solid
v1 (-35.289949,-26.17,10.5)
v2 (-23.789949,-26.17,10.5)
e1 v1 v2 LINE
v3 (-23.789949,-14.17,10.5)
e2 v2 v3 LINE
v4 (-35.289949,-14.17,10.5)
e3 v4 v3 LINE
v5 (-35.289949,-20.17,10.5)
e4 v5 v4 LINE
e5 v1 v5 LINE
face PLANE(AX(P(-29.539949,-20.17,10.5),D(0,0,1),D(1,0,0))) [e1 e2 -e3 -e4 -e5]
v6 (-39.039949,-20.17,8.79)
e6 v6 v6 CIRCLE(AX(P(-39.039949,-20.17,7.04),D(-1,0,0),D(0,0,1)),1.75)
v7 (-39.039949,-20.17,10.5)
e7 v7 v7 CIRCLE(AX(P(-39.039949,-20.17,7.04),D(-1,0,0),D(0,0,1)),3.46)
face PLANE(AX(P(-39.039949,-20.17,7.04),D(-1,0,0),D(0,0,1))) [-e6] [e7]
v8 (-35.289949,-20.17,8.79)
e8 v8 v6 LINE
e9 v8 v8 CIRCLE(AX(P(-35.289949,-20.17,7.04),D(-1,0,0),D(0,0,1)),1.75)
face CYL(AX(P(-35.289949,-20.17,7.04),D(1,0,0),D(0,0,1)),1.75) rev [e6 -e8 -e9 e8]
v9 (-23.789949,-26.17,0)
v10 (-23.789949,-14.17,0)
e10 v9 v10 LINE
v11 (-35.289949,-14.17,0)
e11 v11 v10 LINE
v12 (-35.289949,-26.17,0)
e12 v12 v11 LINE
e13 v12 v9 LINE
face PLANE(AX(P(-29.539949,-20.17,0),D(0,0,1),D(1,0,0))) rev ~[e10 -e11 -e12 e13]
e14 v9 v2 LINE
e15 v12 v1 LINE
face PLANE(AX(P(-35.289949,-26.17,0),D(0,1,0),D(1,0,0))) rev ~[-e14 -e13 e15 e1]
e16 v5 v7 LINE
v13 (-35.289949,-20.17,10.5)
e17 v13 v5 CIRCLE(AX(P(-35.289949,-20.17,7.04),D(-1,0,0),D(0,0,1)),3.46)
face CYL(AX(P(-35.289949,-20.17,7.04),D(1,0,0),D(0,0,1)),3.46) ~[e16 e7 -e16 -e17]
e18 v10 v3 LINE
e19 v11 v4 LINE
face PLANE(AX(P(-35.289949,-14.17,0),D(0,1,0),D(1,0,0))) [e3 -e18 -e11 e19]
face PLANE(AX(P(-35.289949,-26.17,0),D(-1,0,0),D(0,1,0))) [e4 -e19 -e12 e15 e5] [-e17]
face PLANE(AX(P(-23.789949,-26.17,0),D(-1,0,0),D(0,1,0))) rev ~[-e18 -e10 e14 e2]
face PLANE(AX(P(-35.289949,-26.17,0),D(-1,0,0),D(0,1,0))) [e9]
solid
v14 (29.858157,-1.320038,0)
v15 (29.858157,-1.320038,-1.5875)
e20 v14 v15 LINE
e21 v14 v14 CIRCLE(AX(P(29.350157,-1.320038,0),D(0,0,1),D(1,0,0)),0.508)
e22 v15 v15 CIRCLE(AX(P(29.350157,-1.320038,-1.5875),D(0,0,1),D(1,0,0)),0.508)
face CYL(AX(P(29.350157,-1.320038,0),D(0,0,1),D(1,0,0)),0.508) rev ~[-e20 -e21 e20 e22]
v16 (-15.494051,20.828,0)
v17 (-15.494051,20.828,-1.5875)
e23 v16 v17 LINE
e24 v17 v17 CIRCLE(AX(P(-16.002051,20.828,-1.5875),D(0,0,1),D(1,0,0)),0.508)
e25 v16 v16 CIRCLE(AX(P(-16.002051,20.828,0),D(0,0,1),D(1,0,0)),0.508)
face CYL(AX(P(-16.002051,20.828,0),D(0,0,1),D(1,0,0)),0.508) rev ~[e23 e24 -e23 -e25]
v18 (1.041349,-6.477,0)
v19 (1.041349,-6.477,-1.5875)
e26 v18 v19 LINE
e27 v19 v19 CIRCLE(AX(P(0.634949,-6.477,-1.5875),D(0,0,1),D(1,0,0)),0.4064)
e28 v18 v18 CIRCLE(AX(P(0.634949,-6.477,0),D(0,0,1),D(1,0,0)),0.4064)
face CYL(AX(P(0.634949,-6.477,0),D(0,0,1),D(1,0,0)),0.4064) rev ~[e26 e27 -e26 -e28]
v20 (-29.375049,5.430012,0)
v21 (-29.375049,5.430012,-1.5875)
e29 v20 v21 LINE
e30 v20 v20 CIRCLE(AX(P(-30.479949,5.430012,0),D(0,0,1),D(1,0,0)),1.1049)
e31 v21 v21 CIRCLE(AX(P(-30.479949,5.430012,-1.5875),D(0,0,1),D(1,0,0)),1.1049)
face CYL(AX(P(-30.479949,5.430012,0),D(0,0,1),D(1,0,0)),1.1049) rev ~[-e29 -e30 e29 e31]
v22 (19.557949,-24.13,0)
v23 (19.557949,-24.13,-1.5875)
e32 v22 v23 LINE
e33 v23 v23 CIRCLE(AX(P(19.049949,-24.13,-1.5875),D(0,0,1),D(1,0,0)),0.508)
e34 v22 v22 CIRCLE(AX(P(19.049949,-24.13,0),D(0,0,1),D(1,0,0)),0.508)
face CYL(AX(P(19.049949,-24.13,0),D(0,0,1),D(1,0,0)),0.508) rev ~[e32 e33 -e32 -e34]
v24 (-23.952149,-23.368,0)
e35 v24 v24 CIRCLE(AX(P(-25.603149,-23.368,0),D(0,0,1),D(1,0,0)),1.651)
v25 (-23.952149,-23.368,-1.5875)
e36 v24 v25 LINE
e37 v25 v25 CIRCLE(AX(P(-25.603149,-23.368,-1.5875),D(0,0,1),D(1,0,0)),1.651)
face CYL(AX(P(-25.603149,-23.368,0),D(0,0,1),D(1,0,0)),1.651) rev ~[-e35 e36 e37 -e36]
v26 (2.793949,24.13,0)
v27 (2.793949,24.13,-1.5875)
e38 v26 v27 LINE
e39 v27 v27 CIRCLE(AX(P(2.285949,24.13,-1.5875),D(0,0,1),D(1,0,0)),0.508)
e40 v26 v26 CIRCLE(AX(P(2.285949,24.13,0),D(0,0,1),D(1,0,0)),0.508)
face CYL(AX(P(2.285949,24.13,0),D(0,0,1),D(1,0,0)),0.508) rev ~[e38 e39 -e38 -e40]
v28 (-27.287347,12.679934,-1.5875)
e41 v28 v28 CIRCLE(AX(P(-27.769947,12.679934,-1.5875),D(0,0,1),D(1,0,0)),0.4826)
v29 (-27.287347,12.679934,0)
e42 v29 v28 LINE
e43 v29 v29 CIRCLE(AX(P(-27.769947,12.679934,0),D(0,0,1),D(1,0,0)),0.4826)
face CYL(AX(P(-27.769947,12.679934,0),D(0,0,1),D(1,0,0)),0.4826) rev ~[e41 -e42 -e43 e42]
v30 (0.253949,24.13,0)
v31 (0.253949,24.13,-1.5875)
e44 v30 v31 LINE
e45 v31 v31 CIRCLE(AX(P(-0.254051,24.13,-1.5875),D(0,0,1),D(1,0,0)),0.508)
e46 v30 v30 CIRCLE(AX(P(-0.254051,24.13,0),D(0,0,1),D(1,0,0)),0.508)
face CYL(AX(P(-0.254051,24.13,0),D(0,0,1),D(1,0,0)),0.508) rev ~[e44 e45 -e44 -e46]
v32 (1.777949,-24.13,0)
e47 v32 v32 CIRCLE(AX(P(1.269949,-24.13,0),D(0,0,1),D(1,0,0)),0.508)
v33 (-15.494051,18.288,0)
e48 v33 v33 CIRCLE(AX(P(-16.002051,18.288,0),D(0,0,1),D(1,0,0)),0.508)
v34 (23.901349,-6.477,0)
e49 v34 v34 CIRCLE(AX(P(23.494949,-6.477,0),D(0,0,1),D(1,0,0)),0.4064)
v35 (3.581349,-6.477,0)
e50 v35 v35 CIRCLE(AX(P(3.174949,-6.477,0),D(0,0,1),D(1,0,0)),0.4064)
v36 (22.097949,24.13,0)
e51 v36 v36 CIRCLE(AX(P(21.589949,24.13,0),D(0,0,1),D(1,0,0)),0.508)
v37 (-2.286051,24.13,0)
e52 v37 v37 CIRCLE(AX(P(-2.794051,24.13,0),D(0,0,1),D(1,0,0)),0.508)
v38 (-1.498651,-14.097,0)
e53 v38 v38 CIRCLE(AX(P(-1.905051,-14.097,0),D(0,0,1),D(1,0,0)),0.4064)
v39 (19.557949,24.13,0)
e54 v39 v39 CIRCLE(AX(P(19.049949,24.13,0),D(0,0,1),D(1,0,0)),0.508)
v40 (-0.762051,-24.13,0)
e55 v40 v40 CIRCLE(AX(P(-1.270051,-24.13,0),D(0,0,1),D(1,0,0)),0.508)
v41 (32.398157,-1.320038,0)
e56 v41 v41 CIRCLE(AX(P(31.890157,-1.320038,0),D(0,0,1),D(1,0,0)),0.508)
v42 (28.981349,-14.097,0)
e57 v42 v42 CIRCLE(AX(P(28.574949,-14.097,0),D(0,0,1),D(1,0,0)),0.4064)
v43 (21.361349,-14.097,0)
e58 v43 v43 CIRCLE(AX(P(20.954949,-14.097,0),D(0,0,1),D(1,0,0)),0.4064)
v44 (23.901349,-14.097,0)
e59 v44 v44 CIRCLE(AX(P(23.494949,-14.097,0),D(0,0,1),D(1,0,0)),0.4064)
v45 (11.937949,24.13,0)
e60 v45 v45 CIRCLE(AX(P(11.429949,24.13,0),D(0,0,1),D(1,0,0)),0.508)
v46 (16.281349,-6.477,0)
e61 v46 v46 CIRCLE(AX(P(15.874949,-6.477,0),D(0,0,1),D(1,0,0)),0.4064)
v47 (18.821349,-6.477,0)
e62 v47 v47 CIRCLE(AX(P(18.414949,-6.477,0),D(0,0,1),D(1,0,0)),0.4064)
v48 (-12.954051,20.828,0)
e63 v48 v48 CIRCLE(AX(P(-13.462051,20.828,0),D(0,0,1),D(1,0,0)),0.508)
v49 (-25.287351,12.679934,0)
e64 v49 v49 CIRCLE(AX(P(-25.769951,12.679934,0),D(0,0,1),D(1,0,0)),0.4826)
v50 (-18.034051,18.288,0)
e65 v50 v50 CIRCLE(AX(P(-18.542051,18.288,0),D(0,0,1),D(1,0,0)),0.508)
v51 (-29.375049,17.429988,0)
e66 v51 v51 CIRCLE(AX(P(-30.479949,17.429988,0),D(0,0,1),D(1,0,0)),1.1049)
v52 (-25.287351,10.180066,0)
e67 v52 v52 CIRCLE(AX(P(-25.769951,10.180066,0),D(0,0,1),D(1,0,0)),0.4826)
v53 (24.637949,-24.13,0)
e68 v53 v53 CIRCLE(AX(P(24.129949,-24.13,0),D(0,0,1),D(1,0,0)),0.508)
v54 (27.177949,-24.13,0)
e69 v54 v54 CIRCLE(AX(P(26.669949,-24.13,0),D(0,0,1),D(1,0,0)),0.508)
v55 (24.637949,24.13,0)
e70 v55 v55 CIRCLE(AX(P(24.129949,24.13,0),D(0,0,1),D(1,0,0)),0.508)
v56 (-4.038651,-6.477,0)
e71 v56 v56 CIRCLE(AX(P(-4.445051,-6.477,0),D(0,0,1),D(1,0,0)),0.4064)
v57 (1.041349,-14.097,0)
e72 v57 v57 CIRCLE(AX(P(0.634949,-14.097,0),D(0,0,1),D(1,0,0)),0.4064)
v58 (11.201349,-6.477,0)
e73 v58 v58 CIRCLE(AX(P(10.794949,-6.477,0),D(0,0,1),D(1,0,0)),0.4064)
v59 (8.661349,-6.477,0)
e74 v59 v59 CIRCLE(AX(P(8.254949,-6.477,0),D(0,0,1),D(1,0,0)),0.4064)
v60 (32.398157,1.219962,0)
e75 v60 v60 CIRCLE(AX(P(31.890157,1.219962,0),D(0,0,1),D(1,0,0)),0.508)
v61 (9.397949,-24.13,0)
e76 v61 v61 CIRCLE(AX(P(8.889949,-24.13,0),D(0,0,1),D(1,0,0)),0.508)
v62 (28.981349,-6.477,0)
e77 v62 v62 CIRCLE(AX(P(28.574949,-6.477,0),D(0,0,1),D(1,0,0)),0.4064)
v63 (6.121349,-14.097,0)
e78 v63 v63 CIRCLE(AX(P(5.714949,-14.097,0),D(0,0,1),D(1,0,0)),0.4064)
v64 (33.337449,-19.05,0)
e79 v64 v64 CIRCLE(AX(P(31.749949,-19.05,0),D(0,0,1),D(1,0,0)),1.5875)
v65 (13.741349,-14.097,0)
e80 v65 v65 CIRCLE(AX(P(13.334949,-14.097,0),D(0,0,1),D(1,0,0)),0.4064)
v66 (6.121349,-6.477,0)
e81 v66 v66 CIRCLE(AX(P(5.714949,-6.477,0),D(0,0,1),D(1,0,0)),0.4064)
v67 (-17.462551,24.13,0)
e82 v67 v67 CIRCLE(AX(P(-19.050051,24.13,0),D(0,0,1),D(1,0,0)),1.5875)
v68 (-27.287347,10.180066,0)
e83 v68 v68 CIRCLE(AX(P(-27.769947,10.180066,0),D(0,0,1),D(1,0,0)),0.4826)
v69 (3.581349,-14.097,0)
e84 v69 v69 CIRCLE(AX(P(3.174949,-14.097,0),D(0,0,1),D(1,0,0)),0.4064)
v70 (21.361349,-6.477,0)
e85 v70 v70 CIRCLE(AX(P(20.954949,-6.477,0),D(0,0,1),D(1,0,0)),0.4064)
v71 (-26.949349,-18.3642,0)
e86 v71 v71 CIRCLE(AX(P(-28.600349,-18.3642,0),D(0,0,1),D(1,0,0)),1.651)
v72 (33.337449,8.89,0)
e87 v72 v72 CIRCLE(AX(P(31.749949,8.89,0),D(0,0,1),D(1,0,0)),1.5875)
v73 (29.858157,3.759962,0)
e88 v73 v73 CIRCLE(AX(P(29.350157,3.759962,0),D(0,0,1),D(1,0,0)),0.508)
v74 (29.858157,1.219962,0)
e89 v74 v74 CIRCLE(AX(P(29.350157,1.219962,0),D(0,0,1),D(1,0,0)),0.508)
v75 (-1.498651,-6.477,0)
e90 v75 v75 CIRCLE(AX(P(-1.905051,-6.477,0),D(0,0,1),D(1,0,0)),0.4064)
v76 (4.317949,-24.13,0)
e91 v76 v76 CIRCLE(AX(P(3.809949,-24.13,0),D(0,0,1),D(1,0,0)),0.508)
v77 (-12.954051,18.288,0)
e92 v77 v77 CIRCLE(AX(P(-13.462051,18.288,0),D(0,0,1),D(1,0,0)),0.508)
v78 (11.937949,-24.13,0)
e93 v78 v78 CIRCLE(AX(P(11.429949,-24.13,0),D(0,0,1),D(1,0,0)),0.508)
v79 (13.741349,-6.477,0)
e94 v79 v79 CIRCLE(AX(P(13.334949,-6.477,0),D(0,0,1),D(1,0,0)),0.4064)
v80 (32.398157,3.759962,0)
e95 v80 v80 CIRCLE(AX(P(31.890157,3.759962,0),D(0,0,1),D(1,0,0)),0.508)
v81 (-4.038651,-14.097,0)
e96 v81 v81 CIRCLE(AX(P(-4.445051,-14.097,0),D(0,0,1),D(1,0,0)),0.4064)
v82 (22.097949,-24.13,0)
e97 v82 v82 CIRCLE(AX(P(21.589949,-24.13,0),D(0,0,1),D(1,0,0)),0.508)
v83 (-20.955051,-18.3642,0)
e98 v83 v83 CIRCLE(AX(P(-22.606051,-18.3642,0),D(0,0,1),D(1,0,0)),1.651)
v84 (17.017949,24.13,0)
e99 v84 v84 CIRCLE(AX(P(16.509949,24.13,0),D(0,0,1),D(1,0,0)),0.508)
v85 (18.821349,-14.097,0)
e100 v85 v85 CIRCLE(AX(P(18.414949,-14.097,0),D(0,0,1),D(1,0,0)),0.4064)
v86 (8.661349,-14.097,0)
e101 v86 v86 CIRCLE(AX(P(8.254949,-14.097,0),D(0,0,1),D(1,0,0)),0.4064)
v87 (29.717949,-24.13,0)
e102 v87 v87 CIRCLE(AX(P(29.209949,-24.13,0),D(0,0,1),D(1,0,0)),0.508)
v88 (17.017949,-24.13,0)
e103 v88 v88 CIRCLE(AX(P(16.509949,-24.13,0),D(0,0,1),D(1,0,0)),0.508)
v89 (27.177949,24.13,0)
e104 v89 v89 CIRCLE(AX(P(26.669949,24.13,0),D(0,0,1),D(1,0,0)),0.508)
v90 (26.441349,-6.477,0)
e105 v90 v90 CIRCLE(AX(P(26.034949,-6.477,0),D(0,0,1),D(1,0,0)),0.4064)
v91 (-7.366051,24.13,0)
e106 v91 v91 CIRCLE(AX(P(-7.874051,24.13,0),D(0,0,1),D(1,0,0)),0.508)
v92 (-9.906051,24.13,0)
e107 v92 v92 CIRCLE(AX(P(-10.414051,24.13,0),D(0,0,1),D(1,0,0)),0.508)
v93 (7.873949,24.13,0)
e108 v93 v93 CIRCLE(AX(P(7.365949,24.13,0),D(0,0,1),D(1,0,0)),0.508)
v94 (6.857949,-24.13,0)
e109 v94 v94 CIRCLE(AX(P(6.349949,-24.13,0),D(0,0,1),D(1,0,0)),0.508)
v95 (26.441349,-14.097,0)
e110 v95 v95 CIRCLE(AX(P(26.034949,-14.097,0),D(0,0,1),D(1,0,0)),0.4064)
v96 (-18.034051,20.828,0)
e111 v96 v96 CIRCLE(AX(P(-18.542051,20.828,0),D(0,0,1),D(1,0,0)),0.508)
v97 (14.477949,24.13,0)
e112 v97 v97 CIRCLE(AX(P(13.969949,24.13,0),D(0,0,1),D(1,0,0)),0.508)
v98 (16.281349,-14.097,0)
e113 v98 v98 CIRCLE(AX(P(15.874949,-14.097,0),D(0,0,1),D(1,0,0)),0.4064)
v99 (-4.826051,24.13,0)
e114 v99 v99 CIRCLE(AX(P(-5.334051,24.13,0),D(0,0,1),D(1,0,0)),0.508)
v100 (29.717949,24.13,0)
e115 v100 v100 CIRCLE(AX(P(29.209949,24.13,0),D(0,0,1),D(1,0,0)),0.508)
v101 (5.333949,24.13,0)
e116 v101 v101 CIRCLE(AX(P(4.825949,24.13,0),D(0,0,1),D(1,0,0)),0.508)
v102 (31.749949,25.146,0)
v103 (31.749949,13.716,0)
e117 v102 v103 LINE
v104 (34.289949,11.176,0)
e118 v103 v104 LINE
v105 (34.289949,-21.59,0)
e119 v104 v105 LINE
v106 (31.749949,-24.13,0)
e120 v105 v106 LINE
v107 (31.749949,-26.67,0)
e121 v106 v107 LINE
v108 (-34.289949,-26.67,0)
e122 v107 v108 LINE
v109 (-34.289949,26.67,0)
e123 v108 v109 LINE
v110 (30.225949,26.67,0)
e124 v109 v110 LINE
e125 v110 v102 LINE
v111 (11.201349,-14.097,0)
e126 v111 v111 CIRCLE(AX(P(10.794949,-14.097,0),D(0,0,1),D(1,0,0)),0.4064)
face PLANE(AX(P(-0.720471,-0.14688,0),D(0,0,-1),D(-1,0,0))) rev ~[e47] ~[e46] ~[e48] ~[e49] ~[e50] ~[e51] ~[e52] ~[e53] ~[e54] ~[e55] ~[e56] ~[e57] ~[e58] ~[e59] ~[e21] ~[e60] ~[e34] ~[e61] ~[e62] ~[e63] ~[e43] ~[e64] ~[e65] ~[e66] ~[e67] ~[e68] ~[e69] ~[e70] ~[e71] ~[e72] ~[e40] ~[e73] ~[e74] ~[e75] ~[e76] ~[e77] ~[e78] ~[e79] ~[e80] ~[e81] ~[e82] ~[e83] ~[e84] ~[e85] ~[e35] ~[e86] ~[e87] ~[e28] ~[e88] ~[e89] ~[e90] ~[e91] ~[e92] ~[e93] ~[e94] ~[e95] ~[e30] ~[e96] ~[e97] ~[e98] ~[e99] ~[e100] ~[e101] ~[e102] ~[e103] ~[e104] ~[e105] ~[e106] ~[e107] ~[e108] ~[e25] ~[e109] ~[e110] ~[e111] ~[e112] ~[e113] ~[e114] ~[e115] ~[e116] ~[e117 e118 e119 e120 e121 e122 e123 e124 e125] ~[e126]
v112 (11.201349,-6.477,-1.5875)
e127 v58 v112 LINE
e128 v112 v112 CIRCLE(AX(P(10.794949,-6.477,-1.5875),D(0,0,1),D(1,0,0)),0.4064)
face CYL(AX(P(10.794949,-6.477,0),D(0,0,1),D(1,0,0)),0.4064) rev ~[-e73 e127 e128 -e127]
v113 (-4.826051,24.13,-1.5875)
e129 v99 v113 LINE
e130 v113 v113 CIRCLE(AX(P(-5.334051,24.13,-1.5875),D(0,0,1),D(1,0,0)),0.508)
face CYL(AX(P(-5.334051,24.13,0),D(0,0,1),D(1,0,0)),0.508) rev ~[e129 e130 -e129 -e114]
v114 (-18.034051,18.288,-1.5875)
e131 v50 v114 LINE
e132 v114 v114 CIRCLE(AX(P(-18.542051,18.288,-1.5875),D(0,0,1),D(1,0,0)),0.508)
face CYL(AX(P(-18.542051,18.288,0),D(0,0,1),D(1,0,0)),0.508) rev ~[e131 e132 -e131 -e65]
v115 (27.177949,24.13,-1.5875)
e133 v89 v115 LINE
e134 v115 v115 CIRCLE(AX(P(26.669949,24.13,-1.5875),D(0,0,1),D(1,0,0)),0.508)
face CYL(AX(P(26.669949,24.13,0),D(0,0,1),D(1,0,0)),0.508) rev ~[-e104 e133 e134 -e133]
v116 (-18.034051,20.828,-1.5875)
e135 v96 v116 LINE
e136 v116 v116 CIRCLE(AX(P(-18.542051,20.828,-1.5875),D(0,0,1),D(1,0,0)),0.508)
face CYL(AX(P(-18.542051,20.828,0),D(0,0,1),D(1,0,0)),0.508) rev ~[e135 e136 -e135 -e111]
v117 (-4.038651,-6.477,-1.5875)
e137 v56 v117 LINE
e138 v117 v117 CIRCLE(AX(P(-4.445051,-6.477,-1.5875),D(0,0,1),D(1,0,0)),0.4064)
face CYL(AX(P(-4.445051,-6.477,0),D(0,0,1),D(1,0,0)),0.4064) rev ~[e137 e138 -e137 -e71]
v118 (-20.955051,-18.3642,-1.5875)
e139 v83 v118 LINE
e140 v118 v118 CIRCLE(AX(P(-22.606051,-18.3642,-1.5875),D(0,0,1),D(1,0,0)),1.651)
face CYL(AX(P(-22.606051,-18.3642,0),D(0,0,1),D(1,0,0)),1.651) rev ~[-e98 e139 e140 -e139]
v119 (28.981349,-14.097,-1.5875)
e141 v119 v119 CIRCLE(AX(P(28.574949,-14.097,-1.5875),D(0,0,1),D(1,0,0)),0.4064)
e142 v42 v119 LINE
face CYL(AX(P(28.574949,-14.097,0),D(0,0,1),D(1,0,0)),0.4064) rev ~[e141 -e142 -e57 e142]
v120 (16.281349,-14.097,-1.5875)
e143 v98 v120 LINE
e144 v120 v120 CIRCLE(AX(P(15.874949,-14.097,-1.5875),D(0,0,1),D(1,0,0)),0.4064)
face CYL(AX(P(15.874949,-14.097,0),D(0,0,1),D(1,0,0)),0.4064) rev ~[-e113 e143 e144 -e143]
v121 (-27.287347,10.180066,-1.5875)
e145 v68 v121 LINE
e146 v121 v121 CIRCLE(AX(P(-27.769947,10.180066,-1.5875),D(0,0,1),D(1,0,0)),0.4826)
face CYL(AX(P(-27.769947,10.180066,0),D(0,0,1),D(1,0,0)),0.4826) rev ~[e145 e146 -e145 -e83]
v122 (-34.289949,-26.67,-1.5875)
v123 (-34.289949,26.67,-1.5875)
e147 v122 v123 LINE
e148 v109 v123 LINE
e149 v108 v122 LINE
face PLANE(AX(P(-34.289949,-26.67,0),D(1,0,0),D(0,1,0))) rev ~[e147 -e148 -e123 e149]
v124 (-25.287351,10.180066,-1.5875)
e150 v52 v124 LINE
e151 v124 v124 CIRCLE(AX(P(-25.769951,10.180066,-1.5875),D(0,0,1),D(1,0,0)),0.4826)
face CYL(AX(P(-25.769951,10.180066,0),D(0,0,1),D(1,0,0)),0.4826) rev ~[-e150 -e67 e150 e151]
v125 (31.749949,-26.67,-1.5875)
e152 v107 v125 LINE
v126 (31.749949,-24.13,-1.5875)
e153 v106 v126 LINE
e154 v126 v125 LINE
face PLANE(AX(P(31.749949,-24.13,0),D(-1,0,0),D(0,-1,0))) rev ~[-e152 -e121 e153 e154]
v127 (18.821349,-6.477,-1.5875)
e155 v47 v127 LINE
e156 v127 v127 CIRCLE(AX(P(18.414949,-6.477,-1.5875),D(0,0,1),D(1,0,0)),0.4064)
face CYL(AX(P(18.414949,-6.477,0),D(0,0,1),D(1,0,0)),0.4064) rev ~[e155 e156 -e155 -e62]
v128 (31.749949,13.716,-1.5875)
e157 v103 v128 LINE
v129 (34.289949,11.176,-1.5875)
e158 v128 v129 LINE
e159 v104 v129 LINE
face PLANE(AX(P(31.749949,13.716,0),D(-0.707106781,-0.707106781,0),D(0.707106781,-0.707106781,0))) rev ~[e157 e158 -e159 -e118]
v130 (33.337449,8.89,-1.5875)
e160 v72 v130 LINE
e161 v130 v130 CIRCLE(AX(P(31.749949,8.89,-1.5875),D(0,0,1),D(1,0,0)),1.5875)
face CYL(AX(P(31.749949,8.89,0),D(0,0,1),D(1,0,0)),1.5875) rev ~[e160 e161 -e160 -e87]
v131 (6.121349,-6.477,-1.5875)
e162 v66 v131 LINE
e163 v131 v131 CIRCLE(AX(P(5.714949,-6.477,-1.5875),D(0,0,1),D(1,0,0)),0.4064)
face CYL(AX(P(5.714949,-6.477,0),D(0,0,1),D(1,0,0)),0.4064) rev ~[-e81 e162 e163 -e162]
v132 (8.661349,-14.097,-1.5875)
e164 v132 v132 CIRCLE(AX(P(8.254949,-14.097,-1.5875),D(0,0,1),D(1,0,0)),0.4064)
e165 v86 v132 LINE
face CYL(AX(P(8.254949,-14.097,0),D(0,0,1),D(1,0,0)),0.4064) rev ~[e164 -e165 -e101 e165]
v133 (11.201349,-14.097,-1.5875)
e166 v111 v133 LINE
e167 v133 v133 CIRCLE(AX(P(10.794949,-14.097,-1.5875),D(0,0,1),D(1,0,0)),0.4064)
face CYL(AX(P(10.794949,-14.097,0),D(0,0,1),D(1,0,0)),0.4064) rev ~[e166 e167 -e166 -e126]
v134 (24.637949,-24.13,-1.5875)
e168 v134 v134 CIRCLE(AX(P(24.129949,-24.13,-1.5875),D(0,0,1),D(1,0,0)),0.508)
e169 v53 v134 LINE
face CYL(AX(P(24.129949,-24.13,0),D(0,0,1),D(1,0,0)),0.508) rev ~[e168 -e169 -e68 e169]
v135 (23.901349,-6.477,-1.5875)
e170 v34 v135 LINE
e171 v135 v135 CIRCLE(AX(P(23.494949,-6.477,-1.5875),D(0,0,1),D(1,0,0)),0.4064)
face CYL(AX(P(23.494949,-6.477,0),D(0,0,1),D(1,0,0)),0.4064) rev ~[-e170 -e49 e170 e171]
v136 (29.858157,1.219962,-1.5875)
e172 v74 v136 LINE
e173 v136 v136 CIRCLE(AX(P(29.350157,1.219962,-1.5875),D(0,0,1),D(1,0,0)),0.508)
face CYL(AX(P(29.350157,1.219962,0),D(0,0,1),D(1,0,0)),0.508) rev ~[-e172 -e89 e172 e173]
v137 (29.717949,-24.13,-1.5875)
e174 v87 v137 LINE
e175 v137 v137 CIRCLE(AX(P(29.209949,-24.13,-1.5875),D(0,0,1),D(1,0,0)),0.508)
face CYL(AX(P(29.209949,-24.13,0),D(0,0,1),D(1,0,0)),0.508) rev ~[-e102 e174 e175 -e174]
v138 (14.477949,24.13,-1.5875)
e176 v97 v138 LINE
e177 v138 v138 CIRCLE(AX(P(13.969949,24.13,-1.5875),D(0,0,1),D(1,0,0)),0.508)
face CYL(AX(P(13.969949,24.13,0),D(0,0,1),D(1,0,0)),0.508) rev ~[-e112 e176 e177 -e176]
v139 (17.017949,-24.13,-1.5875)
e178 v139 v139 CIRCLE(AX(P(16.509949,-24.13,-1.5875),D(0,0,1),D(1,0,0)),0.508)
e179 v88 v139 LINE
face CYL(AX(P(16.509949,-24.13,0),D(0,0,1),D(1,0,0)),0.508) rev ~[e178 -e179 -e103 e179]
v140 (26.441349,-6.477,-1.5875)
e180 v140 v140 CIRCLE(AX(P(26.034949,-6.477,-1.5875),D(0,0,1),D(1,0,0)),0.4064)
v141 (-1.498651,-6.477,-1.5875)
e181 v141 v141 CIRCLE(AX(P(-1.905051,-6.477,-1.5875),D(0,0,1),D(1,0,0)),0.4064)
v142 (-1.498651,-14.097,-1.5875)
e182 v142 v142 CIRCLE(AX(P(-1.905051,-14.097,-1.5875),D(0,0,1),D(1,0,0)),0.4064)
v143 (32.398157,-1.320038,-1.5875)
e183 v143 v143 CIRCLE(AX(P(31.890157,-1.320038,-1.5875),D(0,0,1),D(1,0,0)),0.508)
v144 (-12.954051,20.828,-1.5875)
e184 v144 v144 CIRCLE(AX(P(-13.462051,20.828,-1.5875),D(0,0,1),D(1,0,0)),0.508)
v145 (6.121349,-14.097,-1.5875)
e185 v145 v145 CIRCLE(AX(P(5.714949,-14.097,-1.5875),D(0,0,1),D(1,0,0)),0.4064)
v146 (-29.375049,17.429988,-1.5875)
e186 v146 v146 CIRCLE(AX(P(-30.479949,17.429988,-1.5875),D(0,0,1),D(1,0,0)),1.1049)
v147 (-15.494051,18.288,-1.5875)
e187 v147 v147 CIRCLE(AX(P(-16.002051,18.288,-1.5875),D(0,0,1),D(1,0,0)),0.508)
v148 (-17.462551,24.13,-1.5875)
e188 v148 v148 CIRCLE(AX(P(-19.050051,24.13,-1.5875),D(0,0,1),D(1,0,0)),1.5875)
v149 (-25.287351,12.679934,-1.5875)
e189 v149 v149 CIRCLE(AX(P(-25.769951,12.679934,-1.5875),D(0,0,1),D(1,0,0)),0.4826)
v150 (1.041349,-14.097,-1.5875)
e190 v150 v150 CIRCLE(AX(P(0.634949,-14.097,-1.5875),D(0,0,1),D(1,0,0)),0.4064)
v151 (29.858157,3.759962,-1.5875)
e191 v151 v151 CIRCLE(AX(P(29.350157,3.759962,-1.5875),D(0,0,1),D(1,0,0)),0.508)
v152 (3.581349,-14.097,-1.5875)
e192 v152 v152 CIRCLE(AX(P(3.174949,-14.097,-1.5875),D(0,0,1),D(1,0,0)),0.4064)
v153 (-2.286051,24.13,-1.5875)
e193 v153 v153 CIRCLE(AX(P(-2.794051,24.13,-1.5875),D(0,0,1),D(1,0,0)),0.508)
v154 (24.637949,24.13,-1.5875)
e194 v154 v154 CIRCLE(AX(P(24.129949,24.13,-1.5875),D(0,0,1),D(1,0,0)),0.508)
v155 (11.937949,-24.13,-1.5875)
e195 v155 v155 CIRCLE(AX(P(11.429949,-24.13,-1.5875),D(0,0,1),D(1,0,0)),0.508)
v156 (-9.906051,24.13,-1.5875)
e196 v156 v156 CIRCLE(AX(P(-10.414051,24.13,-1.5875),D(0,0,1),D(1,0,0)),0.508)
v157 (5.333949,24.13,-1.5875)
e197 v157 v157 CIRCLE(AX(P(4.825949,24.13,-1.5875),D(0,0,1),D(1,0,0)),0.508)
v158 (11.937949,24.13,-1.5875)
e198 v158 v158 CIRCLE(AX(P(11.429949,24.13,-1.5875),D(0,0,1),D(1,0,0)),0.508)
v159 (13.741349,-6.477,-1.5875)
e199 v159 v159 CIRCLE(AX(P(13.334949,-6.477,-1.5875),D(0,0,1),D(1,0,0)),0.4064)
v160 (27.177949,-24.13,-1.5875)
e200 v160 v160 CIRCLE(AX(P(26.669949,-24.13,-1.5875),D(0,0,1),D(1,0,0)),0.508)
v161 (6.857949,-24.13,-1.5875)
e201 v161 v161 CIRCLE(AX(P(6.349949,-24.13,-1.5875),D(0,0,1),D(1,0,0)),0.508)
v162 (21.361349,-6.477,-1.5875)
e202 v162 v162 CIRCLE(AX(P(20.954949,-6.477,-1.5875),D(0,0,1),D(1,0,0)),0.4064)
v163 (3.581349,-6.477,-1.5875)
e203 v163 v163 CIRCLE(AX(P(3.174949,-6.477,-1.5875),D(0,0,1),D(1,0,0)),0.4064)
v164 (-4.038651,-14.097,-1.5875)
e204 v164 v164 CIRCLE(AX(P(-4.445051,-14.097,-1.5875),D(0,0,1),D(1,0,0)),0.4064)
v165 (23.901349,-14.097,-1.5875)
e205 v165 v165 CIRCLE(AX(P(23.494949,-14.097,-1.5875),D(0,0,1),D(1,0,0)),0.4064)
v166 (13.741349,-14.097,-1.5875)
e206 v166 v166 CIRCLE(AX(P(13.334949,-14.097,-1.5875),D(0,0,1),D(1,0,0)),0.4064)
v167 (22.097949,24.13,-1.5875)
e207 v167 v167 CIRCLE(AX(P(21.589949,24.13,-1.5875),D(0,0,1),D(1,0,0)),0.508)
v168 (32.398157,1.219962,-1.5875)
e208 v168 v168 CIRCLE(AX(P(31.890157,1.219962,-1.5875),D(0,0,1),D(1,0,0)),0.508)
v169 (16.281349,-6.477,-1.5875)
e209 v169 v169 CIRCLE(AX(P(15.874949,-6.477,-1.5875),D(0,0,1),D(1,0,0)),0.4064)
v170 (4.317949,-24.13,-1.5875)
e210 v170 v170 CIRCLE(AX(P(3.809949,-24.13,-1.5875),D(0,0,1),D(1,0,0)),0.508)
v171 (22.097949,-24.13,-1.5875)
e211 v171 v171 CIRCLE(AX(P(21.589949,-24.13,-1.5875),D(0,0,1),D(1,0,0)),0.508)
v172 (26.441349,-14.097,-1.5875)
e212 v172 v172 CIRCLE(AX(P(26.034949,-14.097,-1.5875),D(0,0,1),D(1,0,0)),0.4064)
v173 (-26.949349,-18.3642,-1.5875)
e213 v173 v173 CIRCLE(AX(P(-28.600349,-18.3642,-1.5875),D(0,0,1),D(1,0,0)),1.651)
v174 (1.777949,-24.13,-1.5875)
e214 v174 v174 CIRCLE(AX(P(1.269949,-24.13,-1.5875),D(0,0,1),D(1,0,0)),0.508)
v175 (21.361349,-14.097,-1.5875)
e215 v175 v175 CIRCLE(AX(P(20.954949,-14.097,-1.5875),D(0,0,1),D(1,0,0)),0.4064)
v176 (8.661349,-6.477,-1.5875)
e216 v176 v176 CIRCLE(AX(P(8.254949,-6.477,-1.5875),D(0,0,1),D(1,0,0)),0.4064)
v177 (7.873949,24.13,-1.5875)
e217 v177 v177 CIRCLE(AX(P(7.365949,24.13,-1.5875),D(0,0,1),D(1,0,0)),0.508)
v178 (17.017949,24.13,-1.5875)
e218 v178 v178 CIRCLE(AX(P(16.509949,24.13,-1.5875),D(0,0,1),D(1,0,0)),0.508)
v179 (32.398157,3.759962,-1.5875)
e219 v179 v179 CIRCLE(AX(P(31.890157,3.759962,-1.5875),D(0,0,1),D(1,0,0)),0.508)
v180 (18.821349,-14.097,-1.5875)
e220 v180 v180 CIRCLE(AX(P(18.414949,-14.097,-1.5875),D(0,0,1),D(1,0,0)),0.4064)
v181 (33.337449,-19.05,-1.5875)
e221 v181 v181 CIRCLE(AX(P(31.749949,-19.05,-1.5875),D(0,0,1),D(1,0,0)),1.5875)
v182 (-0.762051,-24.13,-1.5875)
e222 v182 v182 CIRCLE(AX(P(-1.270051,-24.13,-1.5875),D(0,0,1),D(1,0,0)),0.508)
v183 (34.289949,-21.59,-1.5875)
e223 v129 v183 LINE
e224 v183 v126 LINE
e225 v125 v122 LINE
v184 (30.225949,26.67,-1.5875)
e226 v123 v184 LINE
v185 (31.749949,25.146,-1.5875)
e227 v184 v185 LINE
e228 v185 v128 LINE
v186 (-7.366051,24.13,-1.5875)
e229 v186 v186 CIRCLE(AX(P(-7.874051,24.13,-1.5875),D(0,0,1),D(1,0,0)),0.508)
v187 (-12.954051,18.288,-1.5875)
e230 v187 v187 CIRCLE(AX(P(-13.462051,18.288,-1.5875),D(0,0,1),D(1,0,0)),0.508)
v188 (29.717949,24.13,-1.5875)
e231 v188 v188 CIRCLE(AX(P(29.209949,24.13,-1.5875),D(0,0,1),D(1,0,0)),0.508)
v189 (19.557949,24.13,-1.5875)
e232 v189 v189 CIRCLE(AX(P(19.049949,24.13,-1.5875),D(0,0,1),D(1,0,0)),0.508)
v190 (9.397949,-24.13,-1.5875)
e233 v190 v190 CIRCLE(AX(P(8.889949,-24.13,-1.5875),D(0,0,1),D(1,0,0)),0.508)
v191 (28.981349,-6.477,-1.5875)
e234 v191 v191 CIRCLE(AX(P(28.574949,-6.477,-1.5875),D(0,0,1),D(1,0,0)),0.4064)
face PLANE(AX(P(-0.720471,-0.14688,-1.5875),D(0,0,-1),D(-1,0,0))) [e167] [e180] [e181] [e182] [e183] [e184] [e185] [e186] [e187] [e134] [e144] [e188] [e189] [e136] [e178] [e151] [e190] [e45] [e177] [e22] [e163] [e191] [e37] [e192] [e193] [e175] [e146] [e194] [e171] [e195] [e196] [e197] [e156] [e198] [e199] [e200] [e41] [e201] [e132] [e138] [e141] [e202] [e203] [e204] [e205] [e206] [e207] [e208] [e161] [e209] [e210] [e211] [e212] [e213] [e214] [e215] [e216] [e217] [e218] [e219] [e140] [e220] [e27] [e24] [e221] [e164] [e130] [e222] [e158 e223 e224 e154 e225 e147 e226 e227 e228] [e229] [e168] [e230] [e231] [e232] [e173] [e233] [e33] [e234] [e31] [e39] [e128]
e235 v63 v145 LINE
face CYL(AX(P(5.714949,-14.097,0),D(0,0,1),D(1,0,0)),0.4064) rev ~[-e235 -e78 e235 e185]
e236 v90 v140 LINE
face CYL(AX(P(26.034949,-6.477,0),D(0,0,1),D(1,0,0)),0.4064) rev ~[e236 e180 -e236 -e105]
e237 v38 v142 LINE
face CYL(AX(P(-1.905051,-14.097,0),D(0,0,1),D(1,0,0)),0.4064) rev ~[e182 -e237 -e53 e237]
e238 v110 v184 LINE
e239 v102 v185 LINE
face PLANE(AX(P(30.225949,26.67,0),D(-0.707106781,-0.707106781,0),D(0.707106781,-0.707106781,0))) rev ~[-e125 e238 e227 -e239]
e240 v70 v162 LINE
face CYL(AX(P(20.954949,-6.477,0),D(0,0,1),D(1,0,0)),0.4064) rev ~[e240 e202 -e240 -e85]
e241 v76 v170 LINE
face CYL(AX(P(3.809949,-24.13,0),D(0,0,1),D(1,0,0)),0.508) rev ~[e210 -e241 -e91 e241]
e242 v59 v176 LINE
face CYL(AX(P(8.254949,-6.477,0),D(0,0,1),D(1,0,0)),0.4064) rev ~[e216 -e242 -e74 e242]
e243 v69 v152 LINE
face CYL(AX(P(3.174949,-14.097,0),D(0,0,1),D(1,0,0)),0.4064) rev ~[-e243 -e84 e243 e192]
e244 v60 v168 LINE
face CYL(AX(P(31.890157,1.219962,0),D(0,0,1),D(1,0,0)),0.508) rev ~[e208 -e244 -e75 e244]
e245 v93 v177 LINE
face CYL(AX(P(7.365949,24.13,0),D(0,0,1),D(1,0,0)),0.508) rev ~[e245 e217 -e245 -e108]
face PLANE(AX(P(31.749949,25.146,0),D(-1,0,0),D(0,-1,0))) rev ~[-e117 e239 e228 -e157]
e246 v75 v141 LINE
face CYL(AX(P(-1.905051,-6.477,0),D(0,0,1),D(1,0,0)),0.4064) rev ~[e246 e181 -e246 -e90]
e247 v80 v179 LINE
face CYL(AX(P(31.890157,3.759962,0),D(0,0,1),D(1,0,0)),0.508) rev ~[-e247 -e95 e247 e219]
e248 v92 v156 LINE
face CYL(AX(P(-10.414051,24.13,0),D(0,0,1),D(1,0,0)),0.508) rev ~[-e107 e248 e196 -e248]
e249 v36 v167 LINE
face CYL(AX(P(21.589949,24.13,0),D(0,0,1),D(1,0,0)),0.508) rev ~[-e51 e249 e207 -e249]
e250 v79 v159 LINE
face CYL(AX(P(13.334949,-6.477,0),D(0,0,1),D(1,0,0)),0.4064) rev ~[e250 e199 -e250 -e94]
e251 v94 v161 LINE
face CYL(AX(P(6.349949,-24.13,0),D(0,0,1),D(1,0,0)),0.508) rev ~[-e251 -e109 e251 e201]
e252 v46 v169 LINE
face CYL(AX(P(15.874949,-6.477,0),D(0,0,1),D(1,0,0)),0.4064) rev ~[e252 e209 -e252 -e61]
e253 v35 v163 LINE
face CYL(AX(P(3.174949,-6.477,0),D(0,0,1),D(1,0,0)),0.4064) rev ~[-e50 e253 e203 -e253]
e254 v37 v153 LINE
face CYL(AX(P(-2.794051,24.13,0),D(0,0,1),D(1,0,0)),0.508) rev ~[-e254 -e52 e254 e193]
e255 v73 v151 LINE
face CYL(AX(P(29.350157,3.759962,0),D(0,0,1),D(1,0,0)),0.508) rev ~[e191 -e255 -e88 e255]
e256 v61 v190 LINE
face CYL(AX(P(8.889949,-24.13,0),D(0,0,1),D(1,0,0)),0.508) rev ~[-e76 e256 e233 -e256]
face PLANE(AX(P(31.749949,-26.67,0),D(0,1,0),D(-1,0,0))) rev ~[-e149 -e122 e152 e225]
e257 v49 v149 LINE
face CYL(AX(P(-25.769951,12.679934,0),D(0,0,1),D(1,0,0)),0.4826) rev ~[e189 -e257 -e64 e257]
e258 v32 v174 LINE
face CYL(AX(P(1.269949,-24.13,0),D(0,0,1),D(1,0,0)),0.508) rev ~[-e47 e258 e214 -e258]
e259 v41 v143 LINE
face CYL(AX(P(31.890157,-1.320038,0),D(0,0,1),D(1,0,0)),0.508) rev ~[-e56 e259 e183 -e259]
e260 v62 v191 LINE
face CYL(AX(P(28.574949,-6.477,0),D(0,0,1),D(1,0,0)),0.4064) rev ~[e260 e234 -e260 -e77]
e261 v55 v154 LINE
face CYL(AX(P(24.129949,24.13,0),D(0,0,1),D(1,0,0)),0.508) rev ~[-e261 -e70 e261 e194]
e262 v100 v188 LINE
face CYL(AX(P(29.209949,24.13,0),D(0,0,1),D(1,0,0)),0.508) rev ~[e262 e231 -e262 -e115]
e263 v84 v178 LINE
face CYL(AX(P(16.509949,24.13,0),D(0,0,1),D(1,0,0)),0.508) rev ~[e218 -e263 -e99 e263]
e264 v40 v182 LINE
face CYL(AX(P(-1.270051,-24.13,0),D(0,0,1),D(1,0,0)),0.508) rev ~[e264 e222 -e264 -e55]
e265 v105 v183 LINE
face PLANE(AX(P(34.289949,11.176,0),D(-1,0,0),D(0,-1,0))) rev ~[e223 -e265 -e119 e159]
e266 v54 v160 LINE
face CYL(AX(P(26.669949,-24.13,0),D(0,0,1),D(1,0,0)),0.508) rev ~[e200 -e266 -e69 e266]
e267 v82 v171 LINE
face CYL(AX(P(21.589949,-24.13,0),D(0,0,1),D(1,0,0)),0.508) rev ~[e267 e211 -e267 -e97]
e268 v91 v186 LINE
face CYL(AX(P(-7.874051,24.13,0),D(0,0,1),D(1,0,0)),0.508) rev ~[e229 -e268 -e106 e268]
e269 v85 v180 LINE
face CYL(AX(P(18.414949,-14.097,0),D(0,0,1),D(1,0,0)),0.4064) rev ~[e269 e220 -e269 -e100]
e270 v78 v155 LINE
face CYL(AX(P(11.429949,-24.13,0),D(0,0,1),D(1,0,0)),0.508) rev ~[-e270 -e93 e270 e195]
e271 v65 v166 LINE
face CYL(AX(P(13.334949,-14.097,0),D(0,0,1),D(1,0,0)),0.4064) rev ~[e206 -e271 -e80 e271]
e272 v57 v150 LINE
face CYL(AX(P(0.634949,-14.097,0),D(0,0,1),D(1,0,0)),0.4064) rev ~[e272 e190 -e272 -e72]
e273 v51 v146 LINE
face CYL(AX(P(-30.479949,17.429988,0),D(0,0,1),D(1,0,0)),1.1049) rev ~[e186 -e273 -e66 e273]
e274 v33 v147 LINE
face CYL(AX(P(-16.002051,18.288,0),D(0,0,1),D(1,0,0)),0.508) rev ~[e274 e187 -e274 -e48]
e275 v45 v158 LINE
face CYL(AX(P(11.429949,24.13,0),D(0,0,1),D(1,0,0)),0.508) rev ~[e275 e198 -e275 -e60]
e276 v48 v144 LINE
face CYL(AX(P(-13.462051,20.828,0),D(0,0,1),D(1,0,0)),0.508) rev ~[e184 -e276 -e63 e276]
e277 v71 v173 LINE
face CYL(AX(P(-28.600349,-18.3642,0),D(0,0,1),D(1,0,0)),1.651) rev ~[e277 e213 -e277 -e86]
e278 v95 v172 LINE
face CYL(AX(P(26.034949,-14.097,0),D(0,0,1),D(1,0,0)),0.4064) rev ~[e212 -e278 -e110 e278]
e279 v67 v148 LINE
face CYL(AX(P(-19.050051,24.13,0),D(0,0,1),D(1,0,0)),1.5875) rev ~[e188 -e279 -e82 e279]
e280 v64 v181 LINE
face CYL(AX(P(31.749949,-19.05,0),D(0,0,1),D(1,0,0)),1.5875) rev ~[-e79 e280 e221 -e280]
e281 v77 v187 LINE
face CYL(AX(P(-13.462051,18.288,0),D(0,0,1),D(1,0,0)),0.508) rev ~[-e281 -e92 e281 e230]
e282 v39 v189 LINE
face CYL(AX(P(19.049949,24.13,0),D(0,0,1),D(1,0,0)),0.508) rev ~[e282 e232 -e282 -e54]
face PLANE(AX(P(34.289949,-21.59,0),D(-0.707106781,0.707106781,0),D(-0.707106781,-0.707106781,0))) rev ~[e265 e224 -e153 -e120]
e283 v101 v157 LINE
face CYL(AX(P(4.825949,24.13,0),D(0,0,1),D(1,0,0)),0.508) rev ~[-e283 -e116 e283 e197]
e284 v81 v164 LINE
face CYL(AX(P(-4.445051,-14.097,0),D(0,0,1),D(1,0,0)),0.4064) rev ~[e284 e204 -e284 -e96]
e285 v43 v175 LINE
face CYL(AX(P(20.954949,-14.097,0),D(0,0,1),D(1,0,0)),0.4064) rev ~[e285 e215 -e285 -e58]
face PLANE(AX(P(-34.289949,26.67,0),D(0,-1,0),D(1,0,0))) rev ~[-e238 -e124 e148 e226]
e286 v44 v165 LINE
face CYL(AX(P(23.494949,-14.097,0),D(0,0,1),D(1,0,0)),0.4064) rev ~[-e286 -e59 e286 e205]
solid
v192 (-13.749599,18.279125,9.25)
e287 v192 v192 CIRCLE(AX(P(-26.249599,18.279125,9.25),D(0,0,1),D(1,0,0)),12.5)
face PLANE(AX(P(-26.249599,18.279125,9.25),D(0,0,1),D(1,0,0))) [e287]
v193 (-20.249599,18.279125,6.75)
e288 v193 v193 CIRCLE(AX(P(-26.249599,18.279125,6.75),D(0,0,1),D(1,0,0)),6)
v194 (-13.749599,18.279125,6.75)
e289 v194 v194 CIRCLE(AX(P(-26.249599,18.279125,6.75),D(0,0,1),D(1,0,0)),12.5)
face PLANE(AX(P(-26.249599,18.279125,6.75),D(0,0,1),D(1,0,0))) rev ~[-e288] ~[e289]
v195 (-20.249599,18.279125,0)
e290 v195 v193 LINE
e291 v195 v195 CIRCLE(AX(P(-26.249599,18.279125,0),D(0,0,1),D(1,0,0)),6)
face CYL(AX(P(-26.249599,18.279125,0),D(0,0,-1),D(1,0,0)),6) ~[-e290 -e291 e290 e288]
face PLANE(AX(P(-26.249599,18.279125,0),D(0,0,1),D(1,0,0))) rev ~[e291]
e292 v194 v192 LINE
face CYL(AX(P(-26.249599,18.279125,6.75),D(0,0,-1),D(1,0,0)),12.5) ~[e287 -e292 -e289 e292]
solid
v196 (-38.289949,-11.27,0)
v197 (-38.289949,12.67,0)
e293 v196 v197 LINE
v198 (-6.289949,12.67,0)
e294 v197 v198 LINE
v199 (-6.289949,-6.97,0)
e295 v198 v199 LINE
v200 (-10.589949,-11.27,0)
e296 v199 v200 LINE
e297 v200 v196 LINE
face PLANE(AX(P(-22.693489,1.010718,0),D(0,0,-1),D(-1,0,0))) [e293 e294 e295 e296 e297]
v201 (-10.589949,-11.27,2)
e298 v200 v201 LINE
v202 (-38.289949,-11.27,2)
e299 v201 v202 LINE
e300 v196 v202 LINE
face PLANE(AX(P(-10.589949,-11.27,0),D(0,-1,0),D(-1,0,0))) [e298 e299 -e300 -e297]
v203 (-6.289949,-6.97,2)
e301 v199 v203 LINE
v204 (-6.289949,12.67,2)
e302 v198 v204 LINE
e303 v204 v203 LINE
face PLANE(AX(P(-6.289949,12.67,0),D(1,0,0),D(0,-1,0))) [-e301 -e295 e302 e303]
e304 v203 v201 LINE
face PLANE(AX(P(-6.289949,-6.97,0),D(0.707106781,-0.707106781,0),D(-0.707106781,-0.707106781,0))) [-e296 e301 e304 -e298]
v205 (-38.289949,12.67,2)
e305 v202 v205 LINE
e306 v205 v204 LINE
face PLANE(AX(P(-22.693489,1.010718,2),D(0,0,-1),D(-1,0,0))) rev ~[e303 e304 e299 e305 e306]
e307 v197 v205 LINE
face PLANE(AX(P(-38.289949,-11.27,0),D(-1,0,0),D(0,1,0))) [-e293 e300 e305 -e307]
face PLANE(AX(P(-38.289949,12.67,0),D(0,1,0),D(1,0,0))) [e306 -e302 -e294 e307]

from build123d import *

# Parameters (mm, degrees)
BOSS_EXTRUDE1_DEPTH  = 1.5875
SKETCH3_R            = 1.1049
SKETCH3_R_2          = 1.651
SKETCH3_R_3          = 1.5875
SKETCH3_R_4          = 0.4826
CUT_EXTRUDE1_DEPTH   = 44.469640813
SKETCH4_R            = 0.508
SKETCH4_R_2          = 0.4064
CUT_EXTRUDE2_DEPTH   = 44.469640813
SKETCH5_W            = 11.5
SKETCH5_H            = 12
HEADPHONE_JACK_DEPTH = 10.5
SKETCH6_R            = 3.46
SKETCH6_R_2          = 1.75
HEADPHONE_PORT_DEPTH = 3.75
SKETCH7_R            = 6
KNOB_BASE_DEPTH      = 6.75
SKETCH8_R            = 12.5
VOLUME_KNOB_DEPTH    = 2.5
SD_CARD_DEPTH        = 2


with BuildPart() as part:
    # Sketch2 → Boss-Extrude1 (new body)
    with BuildSketch(Plane.XY):
        Polygon((-34.2899492, 26.67), (30.2259492, 26.67), (31.7499492, 25.146), (31.7499492, 13.716), (34.2899492, 11.176), (34.2899492, -21.59), (31.7499492, -24.13), (31.7499492, -26.67), (-34.2899492, -26.67), align=None)
    extrude(amount=-BOSS_EXTRUDE1_DEPTH)

    # Sketch3 → Cut-Extrude1 (cut, through all)
    with BuildSketch(Plane.XY):
        with Locations((-30.4799492, 17.429988)):
            Circle(SKETCH3_R)
        with Locations((-30.4799492, 5.430012)):
            Circle(SKETCH3_R)
        with Locations((-28.6003492, -18.3642)):
            Circle(SKETCH3_R_2)
        with Locations((-25.6031492, -23.368)):
            Circle(SKETCH3_R_2)
        with Locations((-22.6060508, -18.3642)):
            Circle(SKETCH3_R_2)
        with Locations((31.7499492, -19.05)):
            Circle(SKETCH3_R_3)
        with Locations((31.7499492, 8.89)):
            Circle(SKETCH3_R_3)
        with Locations((-19.0500508, 24.13)):
            Circle(SKETCH3_R_3)
        with Locations((-25.769951, 12.679934)):
            Circle(SKETCH3_R_4)
        with Locations((-27.769947, 12.679934)):
            Circle(SKETCH3_R_4)
        with Locations((-27.769947, 10.180066)):
            Circle(SKETCH3_R_4)
        with Locations((-25.769951, 10.180066)):
            Circle(SKETCH3_R_4)
    extrude(amount=-CUT_EXTRUDE1_DEPTH, mode=Mode.SUBTRACT)

    # Sketch4 → Cut-Extrude2 (cut, through all)
    with BuildSketch(Plane.XY):
        with Locations((29.2099492, 24.13)):
            Circle(SKETCH4_R)
        with Locations((26.6699492, 24.13)):
            Circle(SKETCH4_R)
        with Locations((24.1299492, 24.13)):
            Circle(SKETCH4_R)
        with Locations((21.5899492, 24.13)):
            Circle(SKETCH4_R)
        with Locations((19.0499492, 24.13)):
            Circle(SKETCH4_R)
        with Locations((16.5099492, 24.13)):
            Circle(SKETCH4_R)
        with Locations((13.9699492, 24.13)):
            Circle(SKETCH4_R)
        with Locations((11.4299492, 24.13)):
            Circle(SKETCH4_R)
        with Locations((7.3659492, 24.13)):
            Circle(SKETCH4_R)
        with Locations((4.8259492, 24.13)):
            Circle(SKETCH4_R)
        with Locations((2.2859492, 24.13)):
            Circle(SKETCH4_R)
        with Locations((-0.2540508, 24.13)):
            Circle(SKETCH4_R)
        with Locations((-2.7940508, 24.13)):
            Circle(SKETCH4_R)
        with Locations((-5.3340508, 24.13)):
            Circle(SKETCH4_R)
        with Locations((-7.8740508, 24.13)):
            Circle(SKETCH4_R)
        with Locations((-10.4140508, 24.13)):
            Circle(SKETCH4_R)
        with Locations((28.5749492, -6.477)):
            Circle(SKETCH4_R_2)
        with Locations((26.0349492, -6.477)):
            Circle(SKETCH4_R_2)
        with Locations((23.4949492, -6.477)):
            Circle(SKETCH4_R_2)
        with Locations((20.9549492, -6.477)):
            Circle(SKETCH4_R_2)
        with Locations((18.4149492, -6.477)):
            Circle(SKETCH4_R_2)
        with Locations((15.8749492, -6.477)):
            Circle(SKETCH4_R_2)
        with Locations((13.3349492, -6.477)):
            Circle(SKETCH4_R_2)
        with Locations((10.7949492, -6.477)):
            Circle(SKETCH4_R_2)
        with Locations((8.2549492, -6.477)):
            Circle(SKETCH4_R_2)
        with Locations((5.7149492, -6.477)):
            Circle(SKETCH4_R_2)
        with Locations((3.1749492, -6.477)):
            Circle(SKETCH4_R_2)
        with Locations((0.6349492, -6.477)):
            Circle(SKETCH4_R_2)
        with Locations((-1.9050508, -6.477)):
            Circle(SKETCH4_R_2)
        with Locations((-4.4450508, -6.477)):
            Circle(SKETCH4_R_2)
        with Locations((28.5749492, -14.097)):
            Circle(SKETCH4_R_2)
        with Locations((26.0349492, -14.097)):
            Circle(SKETCH4_R_2)
        with Locations((23.4949492, -14.097)):
            Circle(SKETCH4_R_2)
        with Locations((20.9549492, -14.097)):
            Circle(SKETCH4_R_2)
        with Locations((18.4149492, -14.097)):
            Circle(SKETCH4_R_2)
        with Locations((15.8749492, -14.097)):
            Circle(SKETCH4_R_2)
        with Locations((13.3349492, -14.097)):
            Circle(SKETCH4_R_2)
        with Locations((10.7949492, -14.097)):
            Circle(SKETCH4_R_2)
        with Locations((8.2549492, -14.097)):
            Circle(SKETCH4_R_2)
        with Locations((5.7149492, -14.097)):
            Circle(SKETCH4_R_2)
        with Locations((3.1749492, -14.097)):
            Circle(SKETCH4_R_2)
        with Locations((0.6349492, -14.097)):
            Circle(SKETCH4_R_2)
        with Locations((-1.9050508, -14.097)):
            Circle(SKETCH4_R_2)
        with Locations((-4.4450508, -14.097)):
            Circle(SKETCH4_R_2)
        with Locations((29.2099492, -24.13)):
            Circle(SKETCH4_R)
        with Locations((11.4299492, -24.13)):
            Circle(SKETCH4_R)
        with Locations((26.6699492, -24.13)):
            Circle(SKETCH4_R)
        with Locations((8.8899492, -24.13)):
            Circle(SKETCH4_R)
        with Locations((24.1299492, -24.13)):
            Circle(SKETCH4_R)
        with Locations((6.3499492, -24.13)):
            Circle(SKETCH4_R)
        with Locations((21.5899492, -24.13)):
            Circle(SKETCH4_R)
        with Locations((3.8099492, -24.13)):
            Circle(SKETCH4_R)
        with Locations((19.0499492, -24.13)):
            Circle(SKETCH4_R)
        with Locations((1.2699492, -24.13)):
            Circle(SKETCH4_R)
        with Locations((16.5099492, -24.13)):
            Circle(SKETCH4_R)
        with Locations((-1.2700508, -24.13)):
            Circle(SKETCH4_R)
        with Locations((-13.4620508, 20.828)):
            Circle(SKETCH4_R)
        with Locations((-13.4620508, 18.288)):
            Circle(SKETCH4_R)
        with Locations((-16.0020508, 18.288)):
            Circle(SKETCH4_R)
        with Locations((-16.0020508, 20.828)):
            Circle(SKETCH4_R)
        with Locations((-18.5420508, 18.288)):
            Circle(SKETCH4_R)
        with Locations((-18.5420508, 20.828)):
            Circle(SKETCH4_R)
        with Locations((31.8901572, -1.320038)):
            Circle(SKETCH4_R)
        with Locations((29.3501572, -1.320038)):
            Circle(SKETCH4_R)
        with Locations((29.3501572, 1.219962)):
            Circle(SKETCH4_R)
        with Locations((31.8901572, 1.219962)):
            Circle(SKETCH4_R)
        with Locations((29.3501572, 3.759962)):
            Circle(SKETCH4_R)
        with Locations((31.8901572, 3.759962)):
            Circle(SKETCH4_R)
    extrude(amount=-CUT_EXTRUDE2_DEPTH, mode=Mode.SUBTRACT)


with BuildPart() as body_2:
    # Sketch5 → headphone_jack (new body)
    with BuildSketch(Plane.XY):
        with Locations((-29.5399492, -20.17)):
            Rectangle(SKETCH5_W, SKETCH5_H)
    extrude(amount=HEADPHONE_JACK_DEPTH)

    # Sketch6 → headphone_port (add)
    with BuildSketch(Plane.ZY.offset(35.2899492)):
        with Locations((7.04, -20.17)):
            Circle(SKETCH6_R)
        with Locations((7.04, -20.17)):
            Circle(SKETCH6_R_2, mode=Mode.SUBTRACT)
    extrude(amount=HEADPHONE_PORT_DEPTH)


with BuildPart() as body_3:
    # Sketch7 → knob_base (new body)
    with BuildSketch(Plane.XY):
        with Locations((-26.249599131, 18.279124524)):
            Circle(SKETCH7_R)
    extrude(amount=KNOB_BASE_DEPTH)

    # Sketch8 → volume_knob (add)
    with BuildSketch(Plane.XY.offset(6.75)):
        with Locations((-26.249599131, 18.279124524)):
            Circle(SKETCH8_R)
    extrude(amount=VOLUME_KNOB_DEPTH)


with BuildPart() as body_4:
    # Sketch9 → sd_card (new body)
    with BuildSketch(Plane.XY):
        Polygon((-6.2899492, -6.97), (-10.5899492, -11.27), (-38.2899492, -11.27), (-38.2899492, 12.67), (-6.2899492, 12.67), align=None)
    extrude(amount=SD_CARD_DEPTH)


solid = Compound([part.part, body_2.part, body_3.part, body_4.part])
